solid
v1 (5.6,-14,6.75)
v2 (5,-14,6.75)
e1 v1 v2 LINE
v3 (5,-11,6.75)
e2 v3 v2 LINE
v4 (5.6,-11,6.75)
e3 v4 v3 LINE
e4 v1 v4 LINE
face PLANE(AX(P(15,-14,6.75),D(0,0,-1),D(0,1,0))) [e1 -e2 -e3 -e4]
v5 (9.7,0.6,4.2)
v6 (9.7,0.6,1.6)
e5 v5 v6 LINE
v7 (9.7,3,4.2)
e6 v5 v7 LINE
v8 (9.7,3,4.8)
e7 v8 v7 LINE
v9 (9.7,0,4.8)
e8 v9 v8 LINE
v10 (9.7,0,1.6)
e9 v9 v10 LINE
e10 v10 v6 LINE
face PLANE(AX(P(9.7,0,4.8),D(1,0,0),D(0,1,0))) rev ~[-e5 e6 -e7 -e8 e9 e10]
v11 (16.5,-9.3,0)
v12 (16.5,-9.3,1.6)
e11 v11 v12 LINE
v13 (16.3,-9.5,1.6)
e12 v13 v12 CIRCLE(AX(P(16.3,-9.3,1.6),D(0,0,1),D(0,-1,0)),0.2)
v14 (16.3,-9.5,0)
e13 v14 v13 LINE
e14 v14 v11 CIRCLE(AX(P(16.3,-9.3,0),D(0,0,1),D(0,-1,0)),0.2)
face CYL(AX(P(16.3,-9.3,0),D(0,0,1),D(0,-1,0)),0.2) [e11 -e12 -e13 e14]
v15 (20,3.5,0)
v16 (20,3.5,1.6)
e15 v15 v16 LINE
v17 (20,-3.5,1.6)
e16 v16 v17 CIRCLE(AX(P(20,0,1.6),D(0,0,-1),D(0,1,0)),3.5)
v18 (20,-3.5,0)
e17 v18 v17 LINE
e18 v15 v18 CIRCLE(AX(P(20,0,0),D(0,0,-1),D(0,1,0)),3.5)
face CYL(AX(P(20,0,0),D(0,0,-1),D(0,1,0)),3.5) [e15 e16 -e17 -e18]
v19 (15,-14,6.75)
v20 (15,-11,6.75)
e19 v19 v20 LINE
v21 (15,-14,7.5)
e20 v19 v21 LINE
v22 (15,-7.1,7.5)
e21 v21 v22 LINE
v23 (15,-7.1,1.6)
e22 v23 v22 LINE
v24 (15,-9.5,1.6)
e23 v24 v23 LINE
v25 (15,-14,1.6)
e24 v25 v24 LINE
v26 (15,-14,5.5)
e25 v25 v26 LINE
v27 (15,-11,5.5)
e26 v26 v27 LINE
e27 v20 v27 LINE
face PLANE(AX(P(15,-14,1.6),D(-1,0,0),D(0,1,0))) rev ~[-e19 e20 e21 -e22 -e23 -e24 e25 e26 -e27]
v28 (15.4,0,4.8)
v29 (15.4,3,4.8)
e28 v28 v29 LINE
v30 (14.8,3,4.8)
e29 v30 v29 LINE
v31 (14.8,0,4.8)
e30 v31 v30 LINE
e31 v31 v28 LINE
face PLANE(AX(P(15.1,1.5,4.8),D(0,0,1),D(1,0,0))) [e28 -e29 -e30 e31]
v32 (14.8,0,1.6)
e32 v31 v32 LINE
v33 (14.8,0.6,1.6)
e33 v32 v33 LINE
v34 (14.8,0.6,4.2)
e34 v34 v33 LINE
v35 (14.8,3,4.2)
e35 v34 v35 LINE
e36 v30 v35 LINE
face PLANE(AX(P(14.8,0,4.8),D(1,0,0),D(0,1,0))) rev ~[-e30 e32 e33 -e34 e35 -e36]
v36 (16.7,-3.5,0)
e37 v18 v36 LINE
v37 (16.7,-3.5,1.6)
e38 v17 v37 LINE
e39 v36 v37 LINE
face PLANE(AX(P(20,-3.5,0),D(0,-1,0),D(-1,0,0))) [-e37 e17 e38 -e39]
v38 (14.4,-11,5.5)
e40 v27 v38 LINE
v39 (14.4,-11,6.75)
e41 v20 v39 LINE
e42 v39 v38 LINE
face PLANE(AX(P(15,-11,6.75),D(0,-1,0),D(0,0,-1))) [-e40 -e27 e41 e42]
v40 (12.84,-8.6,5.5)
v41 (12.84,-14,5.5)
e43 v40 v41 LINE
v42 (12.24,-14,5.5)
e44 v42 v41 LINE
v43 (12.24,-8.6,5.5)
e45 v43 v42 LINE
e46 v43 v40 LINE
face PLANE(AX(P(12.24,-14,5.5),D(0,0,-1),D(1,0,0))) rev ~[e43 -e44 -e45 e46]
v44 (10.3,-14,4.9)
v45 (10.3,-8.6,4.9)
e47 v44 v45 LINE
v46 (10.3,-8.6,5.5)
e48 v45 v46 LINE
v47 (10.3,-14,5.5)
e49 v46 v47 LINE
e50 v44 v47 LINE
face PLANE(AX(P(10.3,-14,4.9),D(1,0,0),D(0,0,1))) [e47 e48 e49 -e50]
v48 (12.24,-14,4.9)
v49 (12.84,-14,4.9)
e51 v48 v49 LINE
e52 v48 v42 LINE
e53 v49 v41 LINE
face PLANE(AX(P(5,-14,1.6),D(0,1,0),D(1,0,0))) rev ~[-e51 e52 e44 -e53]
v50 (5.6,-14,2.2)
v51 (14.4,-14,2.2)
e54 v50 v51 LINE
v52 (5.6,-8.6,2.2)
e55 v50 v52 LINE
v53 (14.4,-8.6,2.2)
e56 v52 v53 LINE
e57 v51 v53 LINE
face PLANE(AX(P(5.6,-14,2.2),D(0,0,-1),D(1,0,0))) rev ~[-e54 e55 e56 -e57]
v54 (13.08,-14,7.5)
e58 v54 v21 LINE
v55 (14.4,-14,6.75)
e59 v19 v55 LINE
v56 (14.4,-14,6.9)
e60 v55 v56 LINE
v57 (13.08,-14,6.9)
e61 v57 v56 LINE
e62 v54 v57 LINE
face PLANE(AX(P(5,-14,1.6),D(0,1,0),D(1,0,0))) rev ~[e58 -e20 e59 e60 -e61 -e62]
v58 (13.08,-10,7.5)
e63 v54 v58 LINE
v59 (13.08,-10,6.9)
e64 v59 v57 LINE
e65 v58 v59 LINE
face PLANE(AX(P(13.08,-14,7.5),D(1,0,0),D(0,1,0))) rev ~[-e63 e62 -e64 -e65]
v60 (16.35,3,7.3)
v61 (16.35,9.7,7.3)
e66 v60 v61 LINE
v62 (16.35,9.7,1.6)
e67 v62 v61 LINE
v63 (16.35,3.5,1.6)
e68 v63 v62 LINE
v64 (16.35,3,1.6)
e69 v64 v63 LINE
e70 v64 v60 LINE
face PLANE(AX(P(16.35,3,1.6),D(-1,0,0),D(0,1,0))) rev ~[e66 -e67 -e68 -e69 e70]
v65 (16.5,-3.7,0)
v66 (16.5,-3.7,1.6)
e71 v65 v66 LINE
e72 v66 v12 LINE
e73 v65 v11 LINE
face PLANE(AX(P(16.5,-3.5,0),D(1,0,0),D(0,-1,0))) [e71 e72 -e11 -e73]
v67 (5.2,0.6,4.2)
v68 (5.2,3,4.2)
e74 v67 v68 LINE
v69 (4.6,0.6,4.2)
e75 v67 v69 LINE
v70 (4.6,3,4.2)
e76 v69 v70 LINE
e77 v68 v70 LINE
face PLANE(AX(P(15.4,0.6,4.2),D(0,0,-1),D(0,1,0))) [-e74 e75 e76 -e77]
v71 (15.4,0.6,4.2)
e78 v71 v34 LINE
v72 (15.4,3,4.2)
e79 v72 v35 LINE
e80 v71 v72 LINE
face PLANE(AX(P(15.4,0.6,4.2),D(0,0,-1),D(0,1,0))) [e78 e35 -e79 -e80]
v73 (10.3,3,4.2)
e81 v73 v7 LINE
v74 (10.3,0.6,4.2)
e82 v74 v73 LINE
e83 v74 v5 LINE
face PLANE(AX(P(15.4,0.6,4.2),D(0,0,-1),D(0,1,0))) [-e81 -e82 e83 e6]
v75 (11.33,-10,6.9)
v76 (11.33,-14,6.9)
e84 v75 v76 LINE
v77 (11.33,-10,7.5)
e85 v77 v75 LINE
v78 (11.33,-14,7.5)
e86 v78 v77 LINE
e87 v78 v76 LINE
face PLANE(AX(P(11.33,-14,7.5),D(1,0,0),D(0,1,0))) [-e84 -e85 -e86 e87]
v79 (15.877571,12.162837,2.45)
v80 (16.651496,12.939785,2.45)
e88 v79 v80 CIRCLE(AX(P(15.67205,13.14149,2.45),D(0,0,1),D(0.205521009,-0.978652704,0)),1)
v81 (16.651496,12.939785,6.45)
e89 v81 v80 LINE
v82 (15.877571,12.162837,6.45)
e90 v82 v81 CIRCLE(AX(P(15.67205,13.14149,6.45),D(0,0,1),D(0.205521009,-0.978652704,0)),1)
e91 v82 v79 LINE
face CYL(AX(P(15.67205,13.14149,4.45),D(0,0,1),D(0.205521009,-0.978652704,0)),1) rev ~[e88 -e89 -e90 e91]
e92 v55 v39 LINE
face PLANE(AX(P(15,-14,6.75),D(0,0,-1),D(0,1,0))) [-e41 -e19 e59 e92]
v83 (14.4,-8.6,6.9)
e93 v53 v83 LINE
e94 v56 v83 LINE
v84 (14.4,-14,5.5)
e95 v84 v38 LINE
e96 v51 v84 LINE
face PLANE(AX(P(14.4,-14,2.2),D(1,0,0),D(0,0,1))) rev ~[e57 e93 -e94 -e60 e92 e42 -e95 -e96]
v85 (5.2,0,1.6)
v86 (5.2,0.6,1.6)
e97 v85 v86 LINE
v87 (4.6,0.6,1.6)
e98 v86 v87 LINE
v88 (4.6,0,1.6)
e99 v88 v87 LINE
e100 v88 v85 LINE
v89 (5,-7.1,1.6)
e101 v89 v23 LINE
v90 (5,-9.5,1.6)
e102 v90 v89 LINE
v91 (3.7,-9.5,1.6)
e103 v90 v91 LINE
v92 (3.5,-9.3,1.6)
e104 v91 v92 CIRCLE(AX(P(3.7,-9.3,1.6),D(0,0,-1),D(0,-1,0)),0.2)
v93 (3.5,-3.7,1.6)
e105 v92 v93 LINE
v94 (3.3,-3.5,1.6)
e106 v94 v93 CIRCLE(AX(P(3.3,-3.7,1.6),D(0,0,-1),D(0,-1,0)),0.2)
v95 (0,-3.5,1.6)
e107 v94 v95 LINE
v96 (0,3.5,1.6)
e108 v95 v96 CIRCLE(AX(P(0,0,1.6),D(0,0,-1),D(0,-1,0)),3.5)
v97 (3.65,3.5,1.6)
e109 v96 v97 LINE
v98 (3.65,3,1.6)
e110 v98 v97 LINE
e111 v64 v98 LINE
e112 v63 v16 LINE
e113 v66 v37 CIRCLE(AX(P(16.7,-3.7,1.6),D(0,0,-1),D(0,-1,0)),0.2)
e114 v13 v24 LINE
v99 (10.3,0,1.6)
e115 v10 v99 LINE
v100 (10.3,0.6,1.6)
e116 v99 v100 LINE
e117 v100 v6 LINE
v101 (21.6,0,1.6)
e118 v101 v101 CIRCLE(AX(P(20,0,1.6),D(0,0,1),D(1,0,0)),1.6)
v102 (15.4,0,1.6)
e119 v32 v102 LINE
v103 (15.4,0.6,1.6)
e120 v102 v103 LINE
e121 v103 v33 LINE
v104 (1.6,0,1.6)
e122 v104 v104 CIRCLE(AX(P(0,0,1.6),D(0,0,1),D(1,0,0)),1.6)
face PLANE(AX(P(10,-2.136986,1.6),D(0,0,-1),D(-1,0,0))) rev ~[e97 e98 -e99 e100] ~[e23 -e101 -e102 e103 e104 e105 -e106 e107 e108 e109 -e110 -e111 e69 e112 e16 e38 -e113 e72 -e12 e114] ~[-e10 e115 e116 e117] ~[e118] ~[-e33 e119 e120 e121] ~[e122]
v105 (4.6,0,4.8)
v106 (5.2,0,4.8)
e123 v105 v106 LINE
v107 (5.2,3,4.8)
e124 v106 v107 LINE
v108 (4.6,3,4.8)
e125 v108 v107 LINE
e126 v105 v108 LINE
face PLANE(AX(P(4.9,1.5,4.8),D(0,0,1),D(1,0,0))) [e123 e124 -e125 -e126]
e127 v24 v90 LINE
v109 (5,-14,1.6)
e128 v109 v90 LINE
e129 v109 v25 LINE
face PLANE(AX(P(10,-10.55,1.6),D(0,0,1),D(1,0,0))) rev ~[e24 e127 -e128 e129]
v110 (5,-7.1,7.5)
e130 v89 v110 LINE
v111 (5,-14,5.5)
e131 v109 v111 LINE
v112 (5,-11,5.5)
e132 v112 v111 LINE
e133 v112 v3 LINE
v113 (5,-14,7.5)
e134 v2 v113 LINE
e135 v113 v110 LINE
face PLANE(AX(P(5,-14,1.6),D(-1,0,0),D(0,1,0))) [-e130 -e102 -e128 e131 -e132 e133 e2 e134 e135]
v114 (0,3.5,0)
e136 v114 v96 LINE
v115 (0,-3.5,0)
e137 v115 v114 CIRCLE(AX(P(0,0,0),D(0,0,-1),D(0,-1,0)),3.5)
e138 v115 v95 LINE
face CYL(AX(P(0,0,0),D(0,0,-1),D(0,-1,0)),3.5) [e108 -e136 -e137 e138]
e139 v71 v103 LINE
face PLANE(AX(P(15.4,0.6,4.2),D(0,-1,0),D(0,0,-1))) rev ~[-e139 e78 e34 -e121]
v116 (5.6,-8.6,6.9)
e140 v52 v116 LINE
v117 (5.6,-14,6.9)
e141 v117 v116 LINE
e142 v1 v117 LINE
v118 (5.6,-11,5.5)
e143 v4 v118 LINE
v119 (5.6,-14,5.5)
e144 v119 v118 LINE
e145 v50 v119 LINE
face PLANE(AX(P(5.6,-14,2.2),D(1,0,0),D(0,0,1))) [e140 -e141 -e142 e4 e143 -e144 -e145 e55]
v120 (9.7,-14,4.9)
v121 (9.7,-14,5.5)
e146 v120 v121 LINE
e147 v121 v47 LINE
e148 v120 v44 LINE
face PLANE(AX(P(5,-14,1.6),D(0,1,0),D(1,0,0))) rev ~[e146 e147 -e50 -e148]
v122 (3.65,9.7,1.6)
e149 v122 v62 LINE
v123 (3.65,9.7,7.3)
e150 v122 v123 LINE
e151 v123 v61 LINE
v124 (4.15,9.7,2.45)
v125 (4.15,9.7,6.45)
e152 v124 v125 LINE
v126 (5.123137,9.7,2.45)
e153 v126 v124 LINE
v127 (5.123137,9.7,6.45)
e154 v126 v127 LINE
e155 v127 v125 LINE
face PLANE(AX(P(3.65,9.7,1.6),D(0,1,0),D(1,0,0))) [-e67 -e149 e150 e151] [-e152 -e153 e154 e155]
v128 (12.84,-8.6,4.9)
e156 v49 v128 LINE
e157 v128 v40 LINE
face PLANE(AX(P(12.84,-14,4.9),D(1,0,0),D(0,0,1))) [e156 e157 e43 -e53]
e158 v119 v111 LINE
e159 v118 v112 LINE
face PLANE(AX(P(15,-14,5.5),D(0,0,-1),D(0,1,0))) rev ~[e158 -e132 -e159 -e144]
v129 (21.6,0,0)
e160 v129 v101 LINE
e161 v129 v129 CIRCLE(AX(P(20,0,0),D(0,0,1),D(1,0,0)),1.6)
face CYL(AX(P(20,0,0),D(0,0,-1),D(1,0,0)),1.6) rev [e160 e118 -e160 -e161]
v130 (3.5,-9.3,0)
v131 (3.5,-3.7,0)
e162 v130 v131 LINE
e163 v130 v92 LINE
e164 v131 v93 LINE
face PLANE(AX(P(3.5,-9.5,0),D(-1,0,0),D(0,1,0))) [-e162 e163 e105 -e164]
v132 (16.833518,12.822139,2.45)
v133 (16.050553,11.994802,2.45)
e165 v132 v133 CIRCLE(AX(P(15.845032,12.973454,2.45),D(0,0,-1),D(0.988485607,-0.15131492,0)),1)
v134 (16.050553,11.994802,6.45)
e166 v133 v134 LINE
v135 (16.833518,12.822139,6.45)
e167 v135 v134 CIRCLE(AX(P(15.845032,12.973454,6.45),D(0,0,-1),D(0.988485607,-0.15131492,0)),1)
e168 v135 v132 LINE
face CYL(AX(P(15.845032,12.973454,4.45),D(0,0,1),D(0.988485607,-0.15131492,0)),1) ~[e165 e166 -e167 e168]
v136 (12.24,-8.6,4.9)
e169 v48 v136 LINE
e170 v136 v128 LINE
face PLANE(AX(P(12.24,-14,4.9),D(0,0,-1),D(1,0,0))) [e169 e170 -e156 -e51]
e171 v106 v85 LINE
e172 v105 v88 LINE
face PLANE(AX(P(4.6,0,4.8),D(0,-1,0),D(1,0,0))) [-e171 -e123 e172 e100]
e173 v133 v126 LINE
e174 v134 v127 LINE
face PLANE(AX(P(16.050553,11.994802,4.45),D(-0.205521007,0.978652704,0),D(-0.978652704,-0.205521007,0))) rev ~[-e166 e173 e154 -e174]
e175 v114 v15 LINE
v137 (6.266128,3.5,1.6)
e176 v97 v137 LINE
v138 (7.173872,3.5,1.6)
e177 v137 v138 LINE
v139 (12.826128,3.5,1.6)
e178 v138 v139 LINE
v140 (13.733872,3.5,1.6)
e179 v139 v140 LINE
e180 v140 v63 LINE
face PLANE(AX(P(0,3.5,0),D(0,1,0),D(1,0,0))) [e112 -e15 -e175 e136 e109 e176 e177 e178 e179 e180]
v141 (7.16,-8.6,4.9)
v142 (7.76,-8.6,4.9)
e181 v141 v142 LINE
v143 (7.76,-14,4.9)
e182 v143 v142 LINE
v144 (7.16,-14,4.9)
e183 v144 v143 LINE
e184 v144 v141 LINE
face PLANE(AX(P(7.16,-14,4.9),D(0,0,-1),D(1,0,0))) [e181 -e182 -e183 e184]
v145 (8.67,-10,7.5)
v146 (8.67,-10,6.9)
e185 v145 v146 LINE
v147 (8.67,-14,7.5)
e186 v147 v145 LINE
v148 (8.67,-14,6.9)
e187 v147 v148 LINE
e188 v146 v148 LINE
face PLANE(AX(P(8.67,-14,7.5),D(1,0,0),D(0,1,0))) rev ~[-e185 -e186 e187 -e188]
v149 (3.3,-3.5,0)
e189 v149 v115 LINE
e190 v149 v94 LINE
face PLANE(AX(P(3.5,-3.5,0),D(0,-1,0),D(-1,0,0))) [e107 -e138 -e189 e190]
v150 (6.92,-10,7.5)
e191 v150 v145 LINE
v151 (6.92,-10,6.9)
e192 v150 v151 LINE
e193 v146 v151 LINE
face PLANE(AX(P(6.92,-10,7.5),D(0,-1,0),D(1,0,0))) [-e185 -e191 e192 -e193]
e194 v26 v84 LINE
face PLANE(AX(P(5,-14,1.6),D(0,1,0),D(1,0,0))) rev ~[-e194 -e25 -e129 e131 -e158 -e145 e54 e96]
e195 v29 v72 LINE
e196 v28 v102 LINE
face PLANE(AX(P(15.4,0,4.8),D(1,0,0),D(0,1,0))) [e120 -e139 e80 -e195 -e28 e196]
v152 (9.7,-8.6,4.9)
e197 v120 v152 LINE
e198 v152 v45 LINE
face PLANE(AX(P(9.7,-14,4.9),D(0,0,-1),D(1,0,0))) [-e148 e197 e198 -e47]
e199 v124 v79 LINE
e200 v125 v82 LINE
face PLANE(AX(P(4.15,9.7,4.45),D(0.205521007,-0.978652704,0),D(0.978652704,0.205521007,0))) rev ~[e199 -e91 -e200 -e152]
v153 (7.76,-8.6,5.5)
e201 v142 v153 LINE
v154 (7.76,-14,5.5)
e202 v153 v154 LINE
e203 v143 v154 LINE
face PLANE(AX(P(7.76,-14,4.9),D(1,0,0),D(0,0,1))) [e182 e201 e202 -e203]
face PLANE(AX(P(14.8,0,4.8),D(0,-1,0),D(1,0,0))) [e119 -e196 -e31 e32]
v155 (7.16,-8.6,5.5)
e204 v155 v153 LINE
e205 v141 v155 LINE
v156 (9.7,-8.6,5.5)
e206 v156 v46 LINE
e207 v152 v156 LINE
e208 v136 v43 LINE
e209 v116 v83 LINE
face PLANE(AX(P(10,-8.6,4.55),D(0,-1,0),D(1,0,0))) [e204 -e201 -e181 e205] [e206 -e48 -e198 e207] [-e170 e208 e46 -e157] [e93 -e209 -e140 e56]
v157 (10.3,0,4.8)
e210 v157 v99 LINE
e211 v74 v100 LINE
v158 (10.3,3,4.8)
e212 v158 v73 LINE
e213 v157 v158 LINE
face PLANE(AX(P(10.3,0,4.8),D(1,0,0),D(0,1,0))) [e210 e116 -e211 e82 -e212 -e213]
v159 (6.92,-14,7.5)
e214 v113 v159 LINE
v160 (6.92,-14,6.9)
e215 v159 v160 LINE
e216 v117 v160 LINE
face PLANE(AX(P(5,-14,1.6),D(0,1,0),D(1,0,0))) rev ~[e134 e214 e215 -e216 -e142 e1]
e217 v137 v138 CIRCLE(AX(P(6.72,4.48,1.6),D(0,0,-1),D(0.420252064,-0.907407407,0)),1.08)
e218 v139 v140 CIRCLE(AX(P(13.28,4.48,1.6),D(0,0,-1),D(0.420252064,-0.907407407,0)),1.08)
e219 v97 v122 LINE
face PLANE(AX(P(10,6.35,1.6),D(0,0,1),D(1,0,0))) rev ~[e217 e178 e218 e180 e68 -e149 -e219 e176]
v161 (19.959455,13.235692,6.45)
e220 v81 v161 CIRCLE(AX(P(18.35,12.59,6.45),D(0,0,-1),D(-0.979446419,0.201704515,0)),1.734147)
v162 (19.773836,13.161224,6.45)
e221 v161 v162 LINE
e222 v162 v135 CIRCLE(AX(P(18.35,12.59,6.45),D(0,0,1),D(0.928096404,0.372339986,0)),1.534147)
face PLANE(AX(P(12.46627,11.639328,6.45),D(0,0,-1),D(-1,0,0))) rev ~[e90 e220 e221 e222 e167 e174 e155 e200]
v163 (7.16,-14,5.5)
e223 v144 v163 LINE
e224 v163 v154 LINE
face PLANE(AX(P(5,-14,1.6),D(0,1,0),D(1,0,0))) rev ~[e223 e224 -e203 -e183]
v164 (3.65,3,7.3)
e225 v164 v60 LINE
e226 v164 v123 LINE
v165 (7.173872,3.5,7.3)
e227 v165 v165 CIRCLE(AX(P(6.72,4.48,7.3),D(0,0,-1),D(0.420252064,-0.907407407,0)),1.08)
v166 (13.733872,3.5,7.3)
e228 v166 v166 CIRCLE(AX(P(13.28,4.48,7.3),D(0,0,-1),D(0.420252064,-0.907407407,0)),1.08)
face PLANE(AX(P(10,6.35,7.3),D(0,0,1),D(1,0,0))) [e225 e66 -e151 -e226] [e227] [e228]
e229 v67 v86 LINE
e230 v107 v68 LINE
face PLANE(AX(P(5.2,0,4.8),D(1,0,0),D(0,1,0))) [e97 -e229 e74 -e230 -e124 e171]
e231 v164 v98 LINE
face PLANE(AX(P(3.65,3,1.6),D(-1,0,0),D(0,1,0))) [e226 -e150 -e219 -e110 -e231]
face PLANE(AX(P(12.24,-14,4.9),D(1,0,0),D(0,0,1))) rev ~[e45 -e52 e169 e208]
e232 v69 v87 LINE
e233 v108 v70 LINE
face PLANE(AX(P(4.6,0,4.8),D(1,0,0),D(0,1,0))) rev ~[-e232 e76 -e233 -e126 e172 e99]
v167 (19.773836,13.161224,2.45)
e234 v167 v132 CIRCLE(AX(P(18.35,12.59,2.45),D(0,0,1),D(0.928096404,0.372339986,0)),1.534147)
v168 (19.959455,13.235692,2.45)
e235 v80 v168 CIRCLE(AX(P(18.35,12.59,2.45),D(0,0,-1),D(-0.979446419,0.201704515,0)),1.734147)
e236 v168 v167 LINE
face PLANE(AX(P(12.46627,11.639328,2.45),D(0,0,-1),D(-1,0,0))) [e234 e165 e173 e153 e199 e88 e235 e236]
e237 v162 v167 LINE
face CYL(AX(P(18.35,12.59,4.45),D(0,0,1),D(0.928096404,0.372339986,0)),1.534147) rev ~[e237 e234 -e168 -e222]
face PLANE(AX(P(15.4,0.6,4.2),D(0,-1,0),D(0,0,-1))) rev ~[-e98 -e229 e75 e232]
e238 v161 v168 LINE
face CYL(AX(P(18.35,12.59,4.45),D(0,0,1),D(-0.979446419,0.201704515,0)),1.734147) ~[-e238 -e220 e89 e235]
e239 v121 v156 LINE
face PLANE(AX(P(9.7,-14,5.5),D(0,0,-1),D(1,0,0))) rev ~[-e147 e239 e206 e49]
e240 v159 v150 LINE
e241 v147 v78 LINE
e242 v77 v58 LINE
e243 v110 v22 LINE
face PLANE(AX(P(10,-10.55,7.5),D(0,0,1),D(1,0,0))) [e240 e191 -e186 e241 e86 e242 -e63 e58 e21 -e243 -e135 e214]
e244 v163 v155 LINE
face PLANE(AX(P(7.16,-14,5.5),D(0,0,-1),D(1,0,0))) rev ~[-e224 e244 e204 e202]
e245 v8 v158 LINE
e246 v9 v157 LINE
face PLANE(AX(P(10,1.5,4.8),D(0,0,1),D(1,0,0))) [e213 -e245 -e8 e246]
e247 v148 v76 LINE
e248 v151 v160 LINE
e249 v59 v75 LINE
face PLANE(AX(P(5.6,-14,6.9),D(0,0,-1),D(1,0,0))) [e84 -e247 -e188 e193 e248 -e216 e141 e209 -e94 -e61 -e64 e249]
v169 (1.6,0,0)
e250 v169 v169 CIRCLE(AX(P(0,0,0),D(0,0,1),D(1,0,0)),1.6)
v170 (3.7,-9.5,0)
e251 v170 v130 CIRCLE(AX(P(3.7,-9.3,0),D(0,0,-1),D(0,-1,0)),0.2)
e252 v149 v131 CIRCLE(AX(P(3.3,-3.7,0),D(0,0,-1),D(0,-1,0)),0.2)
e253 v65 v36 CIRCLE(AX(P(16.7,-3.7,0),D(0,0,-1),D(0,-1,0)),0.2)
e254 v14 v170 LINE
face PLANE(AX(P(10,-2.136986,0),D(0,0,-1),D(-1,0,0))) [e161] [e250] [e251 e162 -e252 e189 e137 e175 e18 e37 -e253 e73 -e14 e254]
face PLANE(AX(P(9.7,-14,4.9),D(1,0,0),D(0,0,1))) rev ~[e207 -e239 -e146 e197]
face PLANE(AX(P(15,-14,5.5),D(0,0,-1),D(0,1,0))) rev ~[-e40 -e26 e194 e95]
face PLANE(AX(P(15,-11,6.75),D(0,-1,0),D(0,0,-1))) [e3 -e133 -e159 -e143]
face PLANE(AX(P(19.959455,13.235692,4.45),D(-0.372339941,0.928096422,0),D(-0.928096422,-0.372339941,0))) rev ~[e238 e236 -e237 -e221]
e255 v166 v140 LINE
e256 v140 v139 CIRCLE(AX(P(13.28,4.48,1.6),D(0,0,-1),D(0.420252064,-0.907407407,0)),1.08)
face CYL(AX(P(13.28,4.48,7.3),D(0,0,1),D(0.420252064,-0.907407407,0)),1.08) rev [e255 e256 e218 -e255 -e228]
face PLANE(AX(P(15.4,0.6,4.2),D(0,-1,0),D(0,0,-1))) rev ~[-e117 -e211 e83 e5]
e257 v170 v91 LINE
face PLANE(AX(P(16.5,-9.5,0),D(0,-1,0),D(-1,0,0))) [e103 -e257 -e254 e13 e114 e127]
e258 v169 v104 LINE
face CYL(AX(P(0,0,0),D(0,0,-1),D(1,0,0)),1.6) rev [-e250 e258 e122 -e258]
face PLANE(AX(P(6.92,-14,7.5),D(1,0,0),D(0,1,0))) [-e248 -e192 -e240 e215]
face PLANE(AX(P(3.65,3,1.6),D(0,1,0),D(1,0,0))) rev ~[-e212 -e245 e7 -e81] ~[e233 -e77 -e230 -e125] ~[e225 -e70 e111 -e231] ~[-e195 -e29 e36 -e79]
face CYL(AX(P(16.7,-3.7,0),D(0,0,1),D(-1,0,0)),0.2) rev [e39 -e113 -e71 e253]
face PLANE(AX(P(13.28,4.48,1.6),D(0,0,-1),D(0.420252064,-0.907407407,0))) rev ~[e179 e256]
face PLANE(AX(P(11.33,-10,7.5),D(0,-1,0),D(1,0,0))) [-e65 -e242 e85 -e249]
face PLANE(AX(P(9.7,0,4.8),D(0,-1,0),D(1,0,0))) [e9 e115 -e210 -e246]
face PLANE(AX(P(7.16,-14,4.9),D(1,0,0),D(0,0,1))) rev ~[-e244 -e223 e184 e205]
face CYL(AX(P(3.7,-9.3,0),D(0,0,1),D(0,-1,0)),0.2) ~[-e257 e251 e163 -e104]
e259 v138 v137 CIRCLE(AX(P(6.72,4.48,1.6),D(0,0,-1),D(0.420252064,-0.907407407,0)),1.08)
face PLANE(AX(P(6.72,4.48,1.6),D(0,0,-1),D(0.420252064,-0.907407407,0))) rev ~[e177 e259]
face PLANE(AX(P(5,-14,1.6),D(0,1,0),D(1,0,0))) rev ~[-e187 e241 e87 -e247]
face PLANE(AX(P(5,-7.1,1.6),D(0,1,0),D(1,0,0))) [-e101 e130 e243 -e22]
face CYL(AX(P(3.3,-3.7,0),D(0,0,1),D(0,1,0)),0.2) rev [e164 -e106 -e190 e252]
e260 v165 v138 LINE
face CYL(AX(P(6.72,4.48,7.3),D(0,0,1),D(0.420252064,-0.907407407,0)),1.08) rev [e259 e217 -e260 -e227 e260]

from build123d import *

# Parameters (mm, degrees)
SKICA1_R                 = 1.6
P_IDAT_VYSUNUT_M1_DEPTH  = 1.6
SKICA2_W                 = 12.7
SKICA2_H                 = 6.7
P_IDAT_VYSUNUT_M2_DEPTH  = 5.7
SKICA3_W                 = 10
SKICA3_H                 = 6.9
P_IDAT_VYSUNUT_M3_DEPTH  = 5.9
SKICA4_W                 = 8.8
SKICA4_H                 = 4.7
SKICA4_W_2               = 0.6
SKICA4_H_2               = 0.6
ODEBRAT_VYSUNUT_M1_DEPTH = 5.4
SKICA5_W                 = 1.25
SKICA5_H                 = 3
ODEBRAT_VYSUNUT_M2_DEPTH = 11.4
SKICA6_W                 = 1.75
SKICA6_H                 = 4
ODEBRAT_VYSUNUT_M3_DEPTH = 1
ZAOBLIT1_R               = 0.2
SKICA8_R                 = 1.08
ODEBRAT_VYSUNUT_M4_DEPTH = 5.7
P_IDAT_VYSUNUT_M4_DEPTH  = 2
SKICA16_W                = 0.6
SKICA16_H                = 3
P_IDAT_VYSUNUT_M5_DEPTH  = 3.2
SKICA17_W                = 2.6
SKICA17_H                = 2.4
ODEBRAT_VYSUNUT_M6_DEPTH = 12


with BuildPart() as part:
    # Skica1 → Přidat vysunutím1 (new body)
    with BuildSketch(Plane.XY):
        with BuildLine():
            Line((0, 3.5), (20, 3.5))
            ThreePointArc((20, 3.5), (23.5, 0), (20, -3.5))
            Line((20, -3.5), (16.5, -3.5))
            Line((16.5, -3.5), (16.5, -9.5))
            Line((16.5, -9.5), (3.5, -9.5))
            Line((3.5, -9.5), (3.5, -3.5))
            Line((3.5, -3.5), (0, -3.5))
            ThreePointArc((0, -3.5), (-3.5, 0), (0, 3.5))
        make_face()
        Circle(SKICA1_R, mode=Mode.SUBTRACT)
        with Locations((20, 0)):
            Circle(SKICA1_R, mode=Mode.SUBTRACT)
    extrude(amount=P_IDAT_VYSUNUT_M1_DEPTH)

    # Skica2 → Přidat vysunutím2 (add)
    with BuildSketch(Plane.XY.offset(1.6)):
        with Locations((10, 6.35)):
            Rectangle(SKICA2_W, SKICA2_H)
    extrude(amount=P_IDAT_VYSUNUT_M2_DEPTH)

    # Skica3 → Přidat vysunutím3 (add)
    with BuildSketch(Plane.XY.offset(1.6)):
        with Locations((10, -10.55)):
            Rectangle(SKICA3_W, SKICA3_H)
    extrude(amount=P_IDAT_VYSUNUT_M3_DEPTH)

    # Skica4 → Odebrat vysunutím1 (cut)
    with BuildSketch(Plane.XZ.offset(14)):
        with Locations((10, 4.55)):
            Rectangle(SKICA4_W, SKICA4_H)
        with Locations((10, 5.2)):
            Rectangle(SKICA4_W_2, SKICA4_H_2, mode=Mode.SUBTRACT)
        with Locations((7.46, 5.2)):
            Rectangle(SKICA4_W_2, SKICA4_H_2, mode=Mode.SUBTRACT)
        with Locations((12.54, 5.2)):
            Rectangle(SKICA4_W_2, SKICA4_H_2, mode=Mode.SUBTRACT)
    extrude(amount=-ODEBRAT_VYSUNUT_M1_DEPTH, mode=Mode.SUBTRACT)

    # Skica5 → Odebrat vysunutím2 (cut)
    with BuildSketch(Plane(origin=(15, 0, 0), x_dir=(0, 0, -1), z_dir=(1, 0, 0))):
        with Locations((-6.125, -12.5)):
            Rectangle(SKICA5_W, SKICA5_H)
    extrude(amount=-ODEBRAT_VYSUNUT_M2_DEPTH, mode=Mode.SUBTRACT)

    # Skica6 → Odebrat vysunutím3 (cut)
    with BuildSketch(Plane.XY.offset(7.5)):
        with Locations((12.205, -12)):
            Rectangle(SKICA6_W, SKICA6_H)
        with Locations((7.795, -12)):
            Rectangle(SKICA6_W, SKICA6_H)
    extrude(amount=-ODEBRAT_VYSUNUT_M3_DEPTH, mode=Mode.SUBTRACT)

    # Zaoblit1
    zaoblit1_edges = [part.edges().sort_by_distance(p)[0] for p in [
        (16.5, -3.5, 0.8),
        (16.5, -9.5, 0.8),
        (3.5, -9.5, 0.8),
        (3.5, -3.5, 0.8),
    ]]
    fillet(zaoblit1_edges, radius=ZAOBLIT1_R)

    # Skica8 → Odebrat vysunutím4 (cut)
    with BuildSketch(Plane(origin=(0, -2.8, 7.3), x_dir=(1, 0, 0), z_dir=(0, 0, -1))):
        with Locations(Location((6.72, -7.28, 0), (0, 0, 65.14949766))):
            Circle(SKICA8_R)
        with Locations(Location((13.28, -7.28, 0), (0, 0, 65.14949766))):
            Circle(SKICA8_R)
    extrude(amount=ODEBRAT_VYSUNUT_M4_DEPTH, mode=Mode.SUBTRACT)

    # Skica15 → Přidat vysunutím4 (add, symmetric)
    with BuildSketch(Plane.XY.offset(4.45)):
        with BuildLine():
            Line((4.15, 9.7), (15.877570704, 12.162837052))
            ThreePointArc((15.877570704, 12.162837052), (16.38053334, 12.435762524), (16.651496116, 12.939785241))
            ThreePointArc((16.651496116, 12.939785241), (18.195492273, 14.317249988), (19.959455422, 13.23569219))
            Line((19.959455422, 13.23569219), (19.773836138, 13.161224202))
            ThreePointArc((19.773836138, 13.161224202), (18.174243185, 14.114045924), (16.833517959, 12.822139302))
            ThreePointArc((16.833517959, 12.822139302), (16.571348331, 12.286093255), (16.05055336, 11.994801518))
            Line((16.05055336, 11.994801518), (5.123136532, 9.7))
            Line((5.123136532, 9.7), (4.15, 9.7))
        make_face()
    extrude(amount=P_IDAT_VYSUNUT_M4_DEPTH, both=True)

    # Skica16 → Přidat vysunutím5 (add)
    with BuildSketch(Plane.XY.offset(4.8)):
        with Locations((4.9, 1.5)):
            Rectangle(SKICA16_W, SKICA16_H)
        with Locations((10, 1.5)):
            Rectangle(SKICA16_W, SKICA16_H)
        with Locations((15.1, 1.5)):
            Rectangle(SKICA16_W, SKICA16_H)
    extrude(amount=-P_IDAT_VYSUNUT_M5_DEPTH)

    # Skica17 → Odebrat vysunutím6 (cut)
    with BuildSketch(Plane(origin=(15.4, 0, 0), x_dir=(0, 0, -1), z_dir=(1, 0, 0))):
        with Locations((-2.9, 1.8)):
            Rectangle(SKICA17_W, SKICA17_H)
    extrude(amount=-ODEBRAT_VYSUNUT_M6_DEPTH, mode=Mode.SUBTRACT)


solid = part.part
